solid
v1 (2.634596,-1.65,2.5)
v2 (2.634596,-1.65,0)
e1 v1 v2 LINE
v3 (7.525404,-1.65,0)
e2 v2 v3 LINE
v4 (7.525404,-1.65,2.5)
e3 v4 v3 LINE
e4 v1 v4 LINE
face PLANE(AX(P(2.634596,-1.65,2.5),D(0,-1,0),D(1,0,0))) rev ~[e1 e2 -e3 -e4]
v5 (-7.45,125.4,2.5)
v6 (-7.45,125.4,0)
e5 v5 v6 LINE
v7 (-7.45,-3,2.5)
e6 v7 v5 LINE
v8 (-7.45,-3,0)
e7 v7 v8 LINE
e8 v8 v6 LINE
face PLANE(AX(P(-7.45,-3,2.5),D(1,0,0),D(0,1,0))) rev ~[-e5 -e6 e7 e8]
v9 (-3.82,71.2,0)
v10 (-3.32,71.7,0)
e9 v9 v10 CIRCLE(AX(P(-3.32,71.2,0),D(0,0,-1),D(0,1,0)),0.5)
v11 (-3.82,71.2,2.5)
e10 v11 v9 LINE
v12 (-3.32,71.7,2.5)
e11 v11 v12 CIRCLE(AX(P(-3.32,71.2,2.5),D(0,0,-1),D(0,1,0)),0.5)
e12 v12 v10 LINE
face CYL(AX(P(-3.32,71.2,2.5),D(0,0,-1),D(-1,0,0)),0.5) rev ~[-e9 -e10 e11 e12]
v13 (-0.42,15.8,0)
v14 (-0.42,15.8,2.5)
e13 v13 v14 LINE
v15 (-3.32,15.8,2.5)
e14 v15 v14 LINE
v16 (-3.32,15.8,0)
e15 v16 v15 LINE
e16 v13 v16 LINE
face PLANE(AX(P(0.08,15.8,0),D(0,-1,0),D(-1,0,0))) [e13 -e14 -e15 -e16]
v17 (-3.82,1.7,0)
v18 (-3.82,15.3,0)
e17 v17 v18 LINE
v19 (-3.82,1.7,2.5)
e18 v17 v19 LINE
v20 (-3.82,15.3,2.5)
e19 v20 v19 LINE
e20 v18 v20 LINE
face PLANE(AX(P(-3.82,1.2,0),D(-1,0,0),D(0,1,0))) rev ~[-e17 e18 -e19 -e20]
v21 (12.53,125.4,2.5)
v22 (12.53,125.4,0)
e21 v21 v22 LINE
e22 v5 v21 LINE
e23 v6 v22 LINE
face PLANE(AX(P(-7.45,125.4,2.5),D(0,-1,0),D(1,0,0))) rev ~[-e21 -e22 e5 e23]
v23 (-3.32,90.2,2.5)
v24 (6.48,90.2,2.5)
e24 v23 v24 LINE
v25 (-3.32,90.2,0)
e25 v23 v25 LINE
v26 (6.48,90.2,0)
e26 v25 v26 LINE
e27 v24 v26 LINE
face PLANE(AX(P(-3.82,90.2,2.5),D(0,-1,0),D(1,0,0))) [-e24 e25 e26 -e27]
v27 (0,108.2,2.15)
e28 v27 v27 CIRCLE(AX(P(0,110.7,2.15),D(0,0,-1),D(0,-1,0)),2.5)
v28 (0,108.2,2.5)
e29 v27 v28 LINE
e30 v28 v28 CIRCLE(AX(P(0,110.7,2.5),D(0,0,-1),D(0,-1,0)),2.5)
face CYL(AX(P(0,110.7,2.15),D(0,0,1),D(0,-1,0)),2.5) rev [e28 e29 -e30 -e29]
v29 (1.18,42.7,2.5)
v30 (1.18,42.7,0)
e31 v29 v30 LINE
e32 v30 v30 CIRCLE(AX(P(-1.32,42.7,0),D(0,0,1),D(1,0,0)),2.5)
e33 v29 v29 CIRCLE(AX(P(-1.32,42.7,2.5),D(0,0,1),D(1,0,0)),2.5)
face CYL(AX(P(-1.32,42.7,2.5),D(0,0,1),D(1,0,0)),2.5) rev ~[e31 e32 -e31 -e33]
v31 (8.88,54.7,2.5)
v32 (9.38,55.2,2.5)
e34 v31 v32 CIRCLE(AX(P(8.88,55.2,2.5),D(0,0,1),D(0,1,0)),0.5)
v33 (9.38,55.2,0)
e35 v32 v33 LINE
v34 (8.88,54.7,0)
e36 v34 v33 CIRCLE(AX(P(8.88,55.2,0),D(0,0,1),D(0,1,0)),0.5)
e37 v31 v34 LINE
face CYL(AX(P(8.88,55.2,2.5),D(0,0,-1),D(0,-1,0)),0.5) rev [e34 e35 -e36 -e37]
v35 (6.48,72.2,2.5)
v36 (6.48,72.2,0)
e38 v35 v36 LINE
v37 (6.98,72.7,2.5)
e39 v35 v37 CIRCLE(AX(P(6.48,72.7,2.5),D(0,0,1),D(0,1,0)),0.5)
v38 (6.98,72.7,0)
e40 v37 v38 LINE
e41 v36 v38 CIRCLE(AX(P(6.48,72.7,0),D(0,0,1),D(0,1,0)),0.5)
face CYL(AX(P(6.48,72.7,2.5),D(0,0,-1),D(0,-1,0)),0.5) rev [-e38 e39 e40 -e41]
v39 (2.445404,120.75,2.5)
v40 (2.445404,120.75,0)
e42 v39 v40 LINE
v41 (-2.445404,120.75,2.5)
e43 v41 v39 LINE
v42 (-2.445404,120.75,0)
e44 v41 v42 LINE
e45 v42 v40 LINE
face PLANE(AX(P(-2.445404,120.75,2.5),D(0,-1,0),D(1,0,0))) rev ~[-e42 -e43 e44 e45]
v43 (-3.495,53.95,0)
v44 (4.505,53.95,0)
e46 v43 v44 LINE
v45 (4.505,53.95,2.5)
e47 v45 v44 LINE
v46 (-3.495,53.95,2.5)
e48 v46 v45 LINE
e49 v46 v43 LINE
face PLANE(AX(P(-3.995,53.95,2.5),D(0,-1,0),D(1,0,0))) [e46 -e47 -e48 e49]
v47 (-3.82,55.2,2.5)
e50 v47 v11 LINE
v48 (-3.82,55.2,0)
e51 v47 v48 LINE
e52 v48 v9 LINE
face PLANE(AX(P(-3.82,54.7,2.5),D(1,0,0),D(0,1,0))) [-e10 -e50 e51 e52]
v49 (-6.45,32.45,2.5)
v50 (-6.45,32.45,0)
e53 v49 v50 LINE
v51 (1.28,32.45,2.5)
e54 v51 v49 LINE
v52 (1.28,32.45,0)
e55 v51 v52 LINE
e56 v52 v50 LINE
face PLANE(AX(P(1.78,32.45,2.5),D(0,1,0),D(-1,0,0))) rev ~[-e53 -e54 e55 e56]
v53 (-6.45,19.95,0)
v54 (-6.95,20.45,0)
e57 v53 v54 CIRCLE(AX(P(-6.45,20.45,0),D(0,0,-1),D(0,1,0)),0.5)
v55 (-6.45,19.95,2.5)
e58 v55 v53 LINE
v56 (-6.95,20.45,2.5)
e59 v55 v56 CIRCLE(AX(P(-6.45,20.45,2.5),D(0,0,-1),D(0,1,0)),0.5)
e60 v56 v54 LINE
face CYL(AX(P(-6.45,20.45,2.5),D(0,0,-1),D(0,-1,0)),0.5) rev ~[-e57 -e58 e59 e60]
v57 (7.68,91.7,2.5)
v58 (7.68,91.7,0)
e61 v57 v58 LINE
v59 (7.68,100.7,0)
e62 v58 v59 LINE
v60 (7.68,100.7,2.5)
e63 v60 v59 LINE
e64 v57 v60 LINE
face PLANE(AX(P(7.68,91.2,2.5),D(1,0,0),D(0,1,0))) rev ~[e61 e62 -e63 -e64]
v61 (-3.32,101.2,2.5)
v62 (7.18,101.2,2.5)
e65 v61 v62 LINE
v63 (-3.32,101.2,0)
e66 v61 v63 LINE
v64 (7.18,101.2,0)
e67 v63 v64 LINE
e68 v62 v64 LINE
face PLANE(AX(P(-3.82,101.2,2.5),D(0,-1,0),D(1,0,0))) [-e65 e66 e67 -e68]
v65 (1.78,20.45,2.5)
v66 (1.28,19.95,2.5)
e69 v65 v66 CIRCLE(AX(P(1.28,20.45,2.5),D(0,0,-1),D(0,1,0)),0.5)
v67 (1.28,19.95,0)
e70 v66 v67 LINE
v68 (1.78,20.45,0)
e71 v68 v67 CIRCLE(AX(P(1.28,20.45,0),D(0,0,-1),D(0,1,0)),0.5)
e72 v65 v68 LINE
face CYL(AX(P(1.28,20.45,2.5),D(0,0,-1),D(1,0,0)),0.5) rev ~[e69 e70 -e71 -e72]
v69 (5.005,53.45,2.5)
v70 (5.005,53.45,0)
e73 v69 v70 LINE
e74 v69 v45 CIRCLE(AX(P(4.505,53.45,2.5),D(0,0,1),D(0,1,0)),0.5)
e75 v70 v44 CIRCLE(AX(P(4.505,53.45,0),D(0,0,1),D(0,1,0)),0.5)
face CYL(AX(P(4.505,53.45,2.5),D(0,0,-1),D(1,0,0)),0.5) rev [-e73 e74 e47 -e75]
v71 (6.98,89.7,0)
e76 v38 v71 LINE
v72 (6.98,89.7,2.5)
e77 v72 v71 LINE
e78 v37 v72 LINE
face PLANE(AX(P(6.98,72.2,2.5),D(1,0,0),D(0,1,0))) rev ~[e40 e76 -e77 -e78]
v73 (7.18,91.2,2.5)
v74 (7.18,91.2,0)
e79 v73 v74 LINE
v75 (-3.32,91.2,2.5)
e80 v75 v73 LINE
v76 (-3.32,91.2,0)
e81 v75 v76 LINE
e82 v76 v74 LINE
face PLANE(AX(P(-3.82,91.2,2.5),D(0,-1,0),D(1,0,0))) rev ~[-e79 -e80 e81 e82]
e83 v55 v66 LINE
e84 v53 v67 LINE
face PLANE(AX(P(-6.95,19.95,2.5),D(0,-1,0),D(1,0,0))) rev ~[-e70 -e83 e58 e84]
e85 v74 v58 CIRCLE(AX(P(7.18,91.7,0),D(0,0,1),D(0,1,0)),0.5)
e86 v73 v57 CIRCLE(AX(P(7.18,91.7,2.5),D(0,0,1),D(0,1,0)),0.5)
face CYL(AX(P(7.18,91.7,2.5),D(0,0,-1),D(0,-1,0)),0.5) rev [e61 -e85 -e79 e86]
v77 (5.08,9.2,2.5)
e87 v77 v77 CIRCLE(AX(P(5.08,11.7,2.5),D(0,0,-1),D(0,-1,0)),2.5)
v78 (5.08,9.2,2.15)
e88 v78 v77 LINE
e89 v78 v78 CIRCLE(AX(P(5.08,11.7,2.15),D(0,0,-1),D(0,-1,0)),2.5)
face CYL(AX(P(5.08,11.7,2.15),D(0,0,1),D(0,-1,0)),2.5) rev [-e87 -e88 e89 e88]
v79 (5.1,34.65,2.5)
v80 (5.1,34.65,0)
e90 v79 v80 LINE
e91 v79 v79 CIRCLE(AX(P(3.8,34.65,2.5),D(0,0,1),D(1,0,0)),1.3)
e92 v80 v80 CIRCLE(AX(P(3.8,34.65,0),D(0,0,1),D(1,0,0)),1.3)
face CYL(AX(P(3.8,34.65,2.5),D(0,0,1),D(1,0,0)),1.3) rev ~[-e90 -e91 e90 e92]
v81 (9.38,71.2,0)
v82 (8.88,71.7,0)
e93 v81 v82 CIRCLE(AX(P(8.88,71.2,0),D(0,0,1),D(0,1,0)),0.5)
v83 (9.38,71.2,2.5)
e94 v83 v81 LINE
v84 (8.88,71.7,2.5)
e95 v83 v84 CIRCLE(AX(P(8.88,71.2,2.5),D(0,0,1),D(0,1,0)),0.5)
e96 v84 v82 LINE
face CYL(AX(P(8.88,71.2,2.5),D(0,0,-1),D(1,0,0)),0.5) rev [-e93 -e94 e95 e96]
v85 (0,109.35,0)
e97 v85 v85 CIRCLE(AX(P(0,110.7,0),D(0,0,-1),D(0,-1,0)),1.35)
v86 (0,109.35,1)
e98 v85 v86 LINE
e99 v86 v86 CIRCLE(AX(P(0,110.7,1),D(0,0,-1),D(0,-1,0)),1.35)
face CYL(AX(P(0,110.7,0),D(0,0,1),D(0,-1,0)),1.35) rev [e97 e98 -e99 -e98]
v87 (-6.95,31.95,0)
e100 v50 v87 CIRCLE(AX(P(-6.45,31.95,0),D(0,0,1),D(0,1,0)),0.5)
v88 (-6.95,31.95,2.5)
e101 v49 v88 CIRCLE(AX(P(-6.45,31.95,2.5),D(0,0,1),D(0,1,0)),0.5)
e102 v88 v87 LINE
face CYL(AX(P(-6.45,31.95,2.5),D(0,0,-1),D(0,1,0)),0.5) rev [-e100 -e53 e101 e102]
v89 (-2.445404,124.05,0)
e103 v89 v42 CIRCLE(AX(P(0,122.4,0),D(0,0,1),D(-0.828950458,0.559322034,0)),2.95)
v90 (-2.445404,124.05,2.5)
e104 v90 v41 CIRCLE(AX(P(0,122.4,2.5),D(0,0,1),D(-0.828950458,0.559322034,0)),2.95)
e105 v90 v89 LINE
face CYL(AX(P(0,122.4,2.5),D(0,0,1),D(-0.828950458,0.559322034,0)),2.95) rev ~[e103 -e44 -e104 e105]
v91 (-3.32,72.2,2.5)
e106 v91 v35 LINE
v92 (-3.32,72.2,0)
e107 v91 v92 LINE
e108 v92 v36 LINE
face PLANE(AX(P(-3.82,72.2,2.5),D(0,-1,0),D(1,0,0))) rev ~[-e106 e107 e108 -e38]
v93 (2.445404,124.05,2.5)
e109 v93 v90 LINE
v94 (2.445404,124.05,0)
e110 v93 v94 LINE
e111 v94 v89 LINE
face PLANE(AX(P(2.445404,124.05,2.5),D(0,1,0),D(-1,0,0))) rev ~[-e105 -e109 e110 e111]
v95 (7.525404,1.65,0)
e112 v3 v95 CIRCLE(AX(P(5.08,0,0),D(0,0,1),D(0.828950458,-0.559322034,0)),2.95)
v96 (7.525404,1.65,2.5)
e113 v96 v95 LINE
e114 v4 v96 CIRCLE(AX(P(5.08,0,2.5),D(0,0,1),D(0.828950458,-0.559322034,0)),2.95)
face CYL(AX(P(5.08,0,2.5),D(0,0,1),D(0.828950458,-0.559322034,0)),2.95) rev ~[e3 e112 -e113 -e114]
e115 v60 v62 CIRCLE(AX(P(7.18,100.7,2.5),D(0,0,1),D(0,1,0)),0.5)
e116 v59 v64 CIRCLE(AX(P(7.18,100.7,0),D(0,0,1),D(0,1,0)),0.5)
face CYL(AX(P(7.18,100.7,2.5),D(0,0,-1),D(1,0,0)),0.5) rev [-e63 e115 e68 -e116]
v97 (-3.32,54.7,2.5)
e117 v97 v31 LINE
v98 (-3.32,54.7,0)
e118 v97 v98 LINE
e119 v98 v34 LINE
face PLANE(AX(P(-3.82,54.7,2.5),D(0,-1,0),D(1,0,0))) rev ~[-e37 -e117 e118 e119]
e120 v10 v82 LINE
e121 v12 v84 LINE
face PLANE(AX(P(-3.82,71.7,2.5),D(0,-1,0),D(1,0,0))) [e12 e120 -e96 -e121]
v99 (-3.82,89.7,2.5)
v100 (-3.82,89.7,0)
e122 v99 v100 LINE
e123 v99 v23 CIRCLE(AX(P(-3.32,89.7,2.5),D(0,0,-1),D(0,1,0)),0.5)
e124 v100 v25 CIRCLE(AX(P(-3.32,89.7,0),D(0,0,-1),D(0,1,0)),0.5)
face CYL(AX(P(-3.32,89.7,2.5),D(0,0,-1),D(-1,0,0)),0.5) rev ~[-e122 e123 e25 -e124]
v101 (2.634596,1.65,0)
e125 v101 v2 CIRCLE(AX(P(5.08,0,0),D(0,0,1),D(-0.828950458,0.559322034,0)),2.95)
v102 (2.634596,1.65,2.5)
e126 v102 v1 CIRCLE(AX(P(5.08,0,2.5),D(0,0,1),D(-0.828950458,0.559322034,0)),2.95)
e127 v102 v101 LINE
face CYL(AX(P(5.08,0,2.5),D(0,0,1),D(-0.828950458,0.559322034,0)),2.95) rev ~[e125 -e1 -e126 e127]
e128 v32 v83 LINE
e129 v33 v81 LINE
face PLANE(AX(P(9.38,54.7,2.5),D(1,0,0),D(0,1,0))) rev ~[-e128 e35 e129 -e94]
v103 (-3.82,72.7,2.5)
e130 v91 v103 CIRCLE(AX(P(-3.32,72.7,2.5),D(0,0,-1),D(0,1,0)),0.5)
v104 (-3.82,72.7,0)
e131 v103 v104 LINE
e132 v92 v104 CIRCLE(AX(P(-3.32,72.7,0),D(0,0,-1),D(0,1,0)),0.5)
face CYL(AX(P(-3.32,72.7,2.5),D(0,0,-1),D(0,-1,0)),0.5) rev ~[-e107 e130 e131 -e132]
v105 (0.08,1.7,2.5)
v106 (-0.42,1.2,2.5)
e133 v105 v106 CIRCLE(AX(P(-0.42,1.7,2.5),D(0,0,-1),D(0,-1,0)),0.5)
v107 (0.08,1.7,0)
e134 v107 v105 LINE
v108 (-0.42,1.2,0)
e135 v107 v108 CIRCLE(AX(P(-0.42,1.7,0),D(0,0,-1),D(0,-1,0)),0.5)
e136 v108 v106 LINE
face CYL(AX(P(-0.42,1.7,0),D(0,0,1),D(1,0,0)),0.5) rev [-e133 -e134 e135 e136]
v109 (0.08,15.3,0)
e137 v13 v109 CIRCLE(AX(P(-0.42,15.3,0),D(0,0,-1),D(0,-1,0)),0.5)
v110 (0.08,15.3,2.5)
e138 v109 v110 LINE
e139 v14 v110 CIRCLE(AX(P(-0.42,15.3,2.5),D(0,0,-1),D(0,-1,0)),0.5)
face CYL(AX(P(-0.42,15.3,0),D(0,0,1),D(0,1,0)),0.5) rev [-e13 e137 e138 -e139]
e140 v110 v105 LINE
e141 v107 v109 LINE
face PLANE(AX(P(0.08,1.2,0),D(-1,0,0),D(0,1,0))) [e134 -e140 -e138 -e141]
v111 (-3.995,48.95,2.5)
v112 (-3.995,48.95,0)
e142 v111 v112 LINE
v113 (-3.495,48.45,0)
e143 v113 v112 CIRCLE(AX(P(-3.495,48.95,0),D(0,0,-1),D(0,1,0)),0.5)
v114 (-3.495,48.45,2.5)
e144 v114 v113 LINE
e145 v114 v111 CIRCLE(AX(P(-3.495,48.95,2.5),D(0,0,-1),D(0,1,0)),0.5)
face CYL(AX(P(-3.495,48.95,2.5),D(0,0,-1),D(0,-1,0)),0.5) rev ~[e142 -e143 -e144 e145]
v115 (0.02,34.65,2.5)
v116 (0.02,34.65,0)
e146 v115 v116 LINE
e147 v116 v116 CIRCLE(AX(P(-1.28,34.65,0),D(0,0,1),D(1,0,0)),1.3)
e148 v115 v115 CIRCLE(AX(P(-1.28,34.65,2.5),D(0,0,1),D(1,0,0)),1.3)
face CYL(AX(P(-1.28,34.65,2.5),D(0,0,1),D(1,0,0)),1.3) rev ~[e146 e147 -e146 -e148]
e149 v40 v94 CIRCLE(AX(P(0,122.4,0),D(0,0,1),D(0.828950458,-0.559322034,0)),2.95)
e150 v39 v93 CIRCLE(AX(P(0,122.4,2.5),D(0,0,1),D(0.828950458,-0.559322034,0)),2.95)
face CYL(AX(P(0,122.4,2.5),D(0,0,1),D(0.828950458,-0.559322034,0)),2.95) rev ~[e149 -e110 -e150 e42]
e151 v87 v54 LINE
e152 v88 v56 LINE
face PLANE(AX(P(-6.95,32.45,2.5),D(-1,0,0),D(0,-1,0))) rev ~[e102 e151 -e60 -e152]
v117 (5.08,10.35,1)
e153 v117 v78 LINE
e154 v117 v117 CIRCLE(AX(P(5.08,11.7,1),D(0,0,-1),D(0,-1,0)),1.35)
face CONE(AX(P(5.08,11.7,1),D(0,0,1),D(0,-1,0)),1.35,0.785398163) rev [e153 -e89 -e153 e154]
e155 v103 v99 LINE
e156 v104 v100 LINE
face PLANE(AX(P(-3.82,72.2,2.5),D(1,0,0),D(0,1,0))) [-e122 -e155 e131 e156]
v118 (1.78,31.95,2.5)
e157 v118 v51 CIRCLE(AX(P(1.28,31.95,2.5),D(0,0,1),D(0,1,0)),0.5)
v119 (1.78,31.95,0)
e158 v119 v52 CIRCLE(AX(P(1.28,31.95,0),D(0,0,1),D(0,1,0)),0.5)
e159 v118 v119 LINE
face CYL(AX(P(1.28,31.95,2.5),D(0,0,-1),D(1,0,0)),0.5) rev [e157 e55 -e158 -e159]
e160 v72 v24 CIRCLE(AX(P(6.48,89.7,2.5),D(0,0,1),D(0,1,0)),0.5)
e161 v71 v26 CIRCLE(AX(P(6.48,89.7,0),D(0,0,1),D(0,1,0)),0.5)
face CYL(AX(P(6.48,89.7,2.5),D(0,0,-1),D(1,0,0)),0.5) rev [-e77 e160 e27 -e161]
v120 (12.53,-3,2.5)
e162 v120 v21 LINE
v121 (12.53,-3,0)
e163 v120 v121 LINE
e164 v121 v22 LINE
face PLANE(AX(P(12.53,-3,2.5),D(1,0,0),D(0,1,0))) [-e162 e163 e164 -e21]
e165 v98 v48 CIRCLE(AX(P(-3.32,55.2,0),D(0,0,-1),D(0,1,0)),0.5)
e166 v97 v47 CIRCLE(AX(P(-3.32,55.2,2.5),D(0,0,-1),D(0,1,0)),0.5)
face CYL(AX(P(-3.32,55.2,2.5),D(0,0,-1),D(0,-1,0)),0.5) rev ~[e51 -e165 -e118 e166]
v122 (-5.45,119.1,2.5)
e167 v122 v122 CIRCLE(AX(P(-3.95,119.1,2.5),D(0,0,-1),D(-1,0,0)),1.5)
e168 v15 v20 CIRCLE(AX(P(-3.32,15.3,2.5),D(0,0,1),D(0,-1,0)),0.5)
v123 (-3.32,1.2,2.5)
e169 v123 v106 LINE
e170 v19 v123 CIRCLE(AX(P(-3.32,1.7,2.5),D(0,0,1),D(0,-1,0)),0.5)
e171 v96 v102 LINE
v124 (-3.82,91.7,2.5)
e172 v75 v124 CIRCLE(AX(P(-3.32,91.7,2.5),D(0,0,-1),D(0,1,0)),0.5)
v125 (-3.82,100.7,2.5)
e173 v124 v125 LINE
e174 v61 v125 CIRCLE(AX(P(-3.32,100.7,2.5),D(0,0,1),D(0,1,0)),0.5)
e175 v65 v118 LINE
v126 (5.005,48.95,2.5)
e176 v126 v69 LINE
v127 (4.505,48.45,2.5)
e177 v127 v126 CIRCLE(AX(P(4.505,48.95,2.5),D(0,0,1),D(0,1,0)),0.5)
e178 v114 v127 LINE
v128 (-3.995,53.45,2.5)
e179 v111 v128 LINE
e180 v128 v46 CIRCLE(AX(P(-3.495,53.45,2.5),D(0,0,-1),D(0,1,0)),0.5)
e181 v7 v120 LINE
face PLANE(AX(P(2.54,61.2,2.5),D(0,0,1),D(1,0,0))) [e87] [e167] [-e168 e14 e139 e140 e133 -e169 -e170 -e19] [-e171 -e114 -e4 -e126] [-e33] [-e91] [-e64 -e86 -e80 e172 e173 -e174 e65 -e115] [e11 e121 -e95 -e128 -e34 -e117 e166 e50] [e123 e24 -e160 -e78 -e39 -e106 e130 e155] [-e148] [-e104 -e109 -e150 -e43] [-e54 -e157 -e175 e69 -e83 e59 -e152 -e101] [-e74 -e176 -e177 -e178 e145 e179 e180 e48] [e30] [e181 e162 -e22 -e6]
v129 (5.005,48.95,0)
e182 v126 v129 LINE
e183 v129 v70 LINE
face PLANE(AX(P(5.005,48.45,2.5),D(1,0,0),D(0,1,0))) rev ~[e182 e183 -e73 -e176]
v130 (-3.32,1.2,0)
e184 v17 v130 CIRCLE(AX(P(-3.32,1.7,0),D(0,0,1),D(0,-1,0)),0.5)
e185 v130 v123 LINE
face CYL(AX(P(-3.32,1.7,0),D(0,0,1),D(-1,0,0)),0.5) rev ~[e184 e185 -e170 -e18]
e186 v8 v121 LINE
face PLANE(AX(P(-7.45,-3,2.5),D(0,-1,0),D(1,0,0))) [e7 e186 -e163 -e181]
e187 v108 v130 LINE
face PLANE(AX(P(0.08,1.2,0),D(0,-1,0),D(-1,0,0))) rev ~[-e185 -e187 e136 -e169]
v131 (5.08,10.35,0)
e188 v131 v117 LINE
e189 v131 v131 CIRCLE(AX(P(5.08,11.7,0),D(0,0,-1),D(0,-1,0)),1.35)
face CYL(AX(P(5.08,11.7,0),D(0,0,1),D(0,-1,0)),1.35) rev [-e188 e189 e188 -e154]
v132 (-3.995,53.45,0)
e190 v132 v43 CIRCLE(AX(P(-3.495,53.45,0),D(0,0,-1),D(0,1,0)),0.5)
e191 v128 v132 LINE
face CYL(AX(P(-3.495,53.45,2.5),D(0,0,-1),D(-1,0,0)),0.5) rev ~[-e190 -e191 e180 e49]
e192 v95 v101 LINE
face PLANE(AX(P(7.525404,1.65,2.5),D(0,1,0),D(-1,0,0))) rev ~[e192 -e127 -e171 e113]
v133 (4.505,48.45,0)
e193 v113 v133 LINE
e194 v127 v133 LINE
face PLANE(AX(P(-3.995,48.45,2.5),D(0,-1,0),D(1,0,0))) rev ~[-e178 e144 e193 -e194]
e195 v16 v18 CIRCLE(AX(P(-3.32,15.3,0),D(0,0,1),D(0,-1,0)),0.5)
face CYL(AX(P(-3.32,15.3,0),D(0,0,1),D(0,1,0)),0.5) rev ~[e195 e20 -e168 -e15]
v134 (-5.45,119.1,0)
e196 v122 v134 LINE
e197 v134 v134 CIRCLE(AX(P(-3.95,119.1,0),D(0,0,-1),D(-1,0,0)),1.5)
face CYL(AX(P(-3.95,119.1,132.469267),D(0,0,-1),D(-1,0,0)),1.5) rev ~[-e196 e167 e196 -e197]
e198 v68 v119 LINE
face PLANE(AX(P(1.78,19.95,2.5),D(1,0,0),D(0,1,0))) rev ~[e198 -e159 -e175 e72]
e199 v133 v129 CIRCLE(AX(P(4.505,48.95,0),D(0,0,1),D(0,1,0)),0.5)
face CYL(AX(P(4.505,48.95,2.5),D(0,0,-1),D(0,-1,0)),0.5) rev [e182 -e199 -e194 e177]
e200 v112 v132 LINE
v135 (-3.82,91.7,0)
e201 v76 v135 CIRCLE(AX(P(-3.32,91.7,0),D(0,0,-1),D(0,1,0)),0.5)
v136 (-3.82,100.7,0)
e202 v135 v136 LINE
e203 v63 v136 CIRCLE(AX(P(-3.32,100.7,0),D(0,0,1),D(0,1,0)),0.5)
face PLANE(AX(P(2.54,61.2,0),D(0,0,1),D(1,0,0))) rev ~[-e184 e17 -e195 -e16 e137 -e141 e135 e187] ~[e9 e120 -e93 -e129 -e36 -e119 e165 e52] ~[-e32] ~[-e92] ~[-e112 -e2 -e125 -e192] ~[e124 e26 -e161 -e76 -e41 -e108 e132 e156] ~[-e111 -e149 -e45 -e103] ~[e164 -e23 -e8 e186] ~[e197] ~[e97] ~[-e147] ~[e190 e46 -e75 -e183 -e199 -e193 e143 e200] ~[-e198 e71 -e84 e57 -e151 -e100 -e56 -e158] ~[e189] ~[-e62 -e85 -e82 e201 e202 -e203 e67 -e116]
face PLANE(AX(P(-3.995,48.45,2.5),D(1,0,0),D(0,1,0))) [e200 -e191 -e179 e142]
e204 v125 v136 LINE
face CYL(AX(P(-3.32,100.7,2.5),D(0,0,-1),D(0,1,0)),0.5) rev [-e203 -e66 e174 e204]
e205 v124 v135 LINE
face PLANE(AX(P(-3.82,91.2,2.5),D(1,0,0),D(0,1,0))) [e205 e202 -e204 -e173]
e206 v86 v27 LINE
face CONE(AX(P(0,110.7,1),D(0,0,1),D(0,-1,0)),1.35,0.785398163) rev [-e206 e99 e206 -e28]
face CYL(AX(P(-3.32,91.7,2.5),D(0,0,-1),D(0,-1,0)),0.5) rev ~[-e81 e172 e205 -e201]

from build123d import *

# Parameters (mm, degrees)
SKETCH1_W                                      = 19.98
SKETCH1_H                                      = 128.4
BOSS_EXTRUDE1_DEPTH                            = 2.5
CUT_EXTRUDE1_DEPTH                             = 127.049239982
CUT_EXTRUDE2_DEPTH                             = 127.049239982
SKETCH4_W                                      = 3.9
SKETCH4_H                                      = 14.6
CUT_EXTRUDE3_DEPTH                             = 127.049239982
F_3_0_3_DIAMETER_HOLE1_D                       = 3
CSK_FOR_M2_5_FLAT_HEAD_MACHINE_SCREW1_AT_COUNT = 2
CSK_FOR_M2_5_FLAT_HEAD_MACHINE_SCREW1_AT_PITCH = 99.130249672
USB_DEPTH                                      = 127.049239982
SKETCH10_R                                     = 1.3
LEDS_DEPTH                                     = 127.049239982
SKETCH11_R                                     = 2.5
RESET_SWITCH_DEPTH                             = 127.049239982
SKETCH13_W                                     = 9
SKETCH13_H                                     = 5.5
DISABLE_COMMS_DEPTH                            = 127.049239982
SKETCH14_W                                     = 13.2
SKETCH14_H                                     = 17
RJ45_DEPTH                                     = 127.049239982
SKETCH15_W                                     = 10.8
SKETCH15_H                                     = 18
OUTPUT_DEPTH                                   = 127.049239982
SKETCH16_W                                     = 11.5
SKETCH16_H                                     = 10
POWER_DEPTH                                    = 127.049239982
FILLETS_R                                      = 0.5


with BuildPart() as part:
    # Sketch1 → Boss-Extrude1 (new body)
    with BuildSketch(Plane.XY.offset(2.5)):
        with Locations((2.54, 61.2)):
            Rectangle(SKETCH1_W, SKETCH1_H)
    extrude(amount=-BOSS_EXTRUDE1_DEPTH)

    # Sketch2 → Cut-Extrude1 (cut, through all)
    with BuildSketch(Plane.XY.offset(2.5)):
        with BuildLine():
            Line((2.445403852, 124.05), (-2.445403852, 124.05))
            ThreePointArc((-2.445403852, 124.05), (-2.95, 122.4), (-2.445403852, 120.75))
            Line((-2.445403852, 120.75), (2.445403852, 120.75))
            ThreePointArc((2.445403852, 120.75), (2.95, 122.4), (2.445403852, 124.05))
        make_face()
    extrude(amount=-CUT_EXTRUDE1_DEPTH, mode=Mode.SUBTRACT)

    # Sketch3 → Cut-Extrude2 (cut, through all)
    with BuildSketch(Plane.XY.offset(2.5)):
        with BuildLine():
            Line((7.525403852, 1.65), (2.634596148, 1.65))
            ThreePointArc((2.634596148, 1.65), (2.13, 0), (2.634596148, -1.65))
            Line((2.634596148, -1.65), (7.525403852, -1.65))
            ThreePointArc((7.525403852, -1.65), (8.03, 0), (7.525403852, 1.65))
        make_face()
    extrude(amount=-CUT_EXTRUDE2_DEPTH, mode=Mode.SUBTRACT)

    # Sketch4 → Cut-Extrude3 (cut, through all)
    with BuildSketch(Plane(origin=(0, 0, 0), x_dir=(-1, 0, 0), z_dir=(0, 0, -1))):
        with Locations((1.87, 8.5)):
            Rectangle(SKETCH4_W, SKETCH4_H)
    extrude(amount=-CUT_EXTRUDE3_DEPTH, mode=Mode.SUBTRACT)

    # Ø3.0 (3) Diameter Hole1 (through all)
    with Locations(Plane.XY.offset(2.5)):
        with Locations((-3.95, 119.1)):
            Hole(F_3_0_3_DIAMETER_HOLE1_D / 2)

    # Sketch7 → CSK for M2.5 Flat Head Machine Screw1 (revolve, cut)
    with BuildSketch(Plane(origin=(5.08, 11.7, 2.5), x_dir=(0, -1, 0), z_dir=(1, 0, 0))):
        Polygon((0, 0), (0, 2.5), (1.35, 2.5), (1.35, 1.5), (2.5, 0.35), (2.5, 0), align=None)
    csk_for_m2_5_flat_head_machine_screw1 = revolve(axis=Axis((5.08, 11.7, 8.85), (0, 0, -1)), mode=Mode.SUBTRACT)

    # CSK for M2.5 Flat Head Machine Screw1 at: CSK for M2.5 Flat Head Machine Screw1 ×2
    with Locations(*[Vector(-0.05124570972853528, 0.9986860754183062, 0) * (i * CSK_FOR_M2_5_FLAT_HEAD_MACHINE_SCREW1_AT_PITCH) for i in range(1, CSK_FOR_M2_5_FLAT_HEAD_MACHINE_SCREW1_AT_COUNT)]):
        add(csk_for_m2_5_flat_head_machine_screw1, mode=Mode.SUBTRACT)

    # Sketch9 → USB (cut, through all)
    with BuildSketch(Plane.XY.offset(2.5)):
        Polygon((-3.82, 19.95), (1.78, 19.95), (1.78, 32.45), (-3.82, 32.45), (-6.95, 32.45), (-6.95, 19.95), align=None)
    extrude(amount=-USB_DEPTH, mode=Mode.SUBTRACT)

    # Sketch10 → LEDs (cut, through all)
    with BuildSketch(Plane.XY.offset(2.5)):
        with Locations((-1.28, 34.65)):
            Circle(SKETCH10_R)
        with Locations((3.8, 34.65)):
            Circle(SKETCH10_R)
    extrude(amount=-LEDS_DEPTH, mode=Mode.SUBTRACT)

    # Sketch11 → Reset switch (cut, through all)
    with BuildSketch(Plane.XY.offset(2.5)):
        with Locations((-1.32, 42.7)):
            Circle(SKETCH11_R)
    extrude(amount=-RESET_SWITCH_DEPTH, mode=Mode.SUBTRACT)

    # Sketch13 → Disable comms (cut, through all)
    with BuildSketch(Plane.XY.offset(2.5)):
        with Locations((0.505, 51.2)):
            Rectangle(SKETCH13_W, SKETCH13_H)
    extrude(amount=-DISABLE_COMMS_DEPTH, mode=Mode.SUBTRACT)

    # Sketch14 → RJ45 (cut, through all)
    with BuildSketch(Plane.XY.offset(2.5)):
        with Locations((2.78, 63.2)):
            Rectangle(SKETCH14_W, SKETCH14_H)
    extrude(amount=-RJ45_DEPTH, mode=Mode.SUBTRACT)

    # Sketch15 → Output (cut, through all)
    with BuildSketch(Plane.XY.offset(2.5)):
        with Locations((1.58, 81.2)):
            Rectangle(SKETCH15_W, SKETCH15_H)
    extrude(amount=-OUTPUT_DEPTH, mode=Mode.SUBTRACT)

    # Sketch16 → Power (cut, through all)
    with BuildSketch(Plane.XY.offset(2.5)):
        with Locations((1.93, 96.2)):
            Rectangle(SKETCH16_W, SKETCH16_H)
    extrude(amount=-POWER_DEPTH, mode=Mode.SUBTRACT)

    # Fillets
    fillets_edges = [part.edges().sort_by_distance(p)[0] for p in [
        (5.005, 53.95, 1.25),
        (5.005, 48.45, 1.25),
        (-3.995, 48.45, 1.25),
        (-3.995, 53.95, 1.25),
        (9.38, 54.7, 1.25),
        (-3.82, 54.7, 1.25),
        (-3.82, 71.7, 1.25),
        (9.38, 71.7, 1.25),
        (6.98, 72.2, 1.25),
        (-3.82, 72.2, 1.25),
        (-3.82, 90.2, 1.25),
        (6.98, 90.2, 1.25),
        (7.68, 91.2, 1.25),
        (-3.82, 91.2, 1.25),
        (-3.82, 101.2, 1.25),
        (7.68, 101.2, 1.25),
        (-3.82, 15.8, 1.25),
        (-3.82, 1.2, 1.25),
        (0.08, 1.2, 1.25),
        (0.08, 15.8, 1.25),
        (-6.95, 19.95, 1.25),
        (-6.95, 32.45, 1.25),
        (1.78, 32.45, 1.25),
        (1.78, 19.95, 1.25),
    ]]
    fillet(fillets_edges, radius=FILLETS_R)


solid = part.part
